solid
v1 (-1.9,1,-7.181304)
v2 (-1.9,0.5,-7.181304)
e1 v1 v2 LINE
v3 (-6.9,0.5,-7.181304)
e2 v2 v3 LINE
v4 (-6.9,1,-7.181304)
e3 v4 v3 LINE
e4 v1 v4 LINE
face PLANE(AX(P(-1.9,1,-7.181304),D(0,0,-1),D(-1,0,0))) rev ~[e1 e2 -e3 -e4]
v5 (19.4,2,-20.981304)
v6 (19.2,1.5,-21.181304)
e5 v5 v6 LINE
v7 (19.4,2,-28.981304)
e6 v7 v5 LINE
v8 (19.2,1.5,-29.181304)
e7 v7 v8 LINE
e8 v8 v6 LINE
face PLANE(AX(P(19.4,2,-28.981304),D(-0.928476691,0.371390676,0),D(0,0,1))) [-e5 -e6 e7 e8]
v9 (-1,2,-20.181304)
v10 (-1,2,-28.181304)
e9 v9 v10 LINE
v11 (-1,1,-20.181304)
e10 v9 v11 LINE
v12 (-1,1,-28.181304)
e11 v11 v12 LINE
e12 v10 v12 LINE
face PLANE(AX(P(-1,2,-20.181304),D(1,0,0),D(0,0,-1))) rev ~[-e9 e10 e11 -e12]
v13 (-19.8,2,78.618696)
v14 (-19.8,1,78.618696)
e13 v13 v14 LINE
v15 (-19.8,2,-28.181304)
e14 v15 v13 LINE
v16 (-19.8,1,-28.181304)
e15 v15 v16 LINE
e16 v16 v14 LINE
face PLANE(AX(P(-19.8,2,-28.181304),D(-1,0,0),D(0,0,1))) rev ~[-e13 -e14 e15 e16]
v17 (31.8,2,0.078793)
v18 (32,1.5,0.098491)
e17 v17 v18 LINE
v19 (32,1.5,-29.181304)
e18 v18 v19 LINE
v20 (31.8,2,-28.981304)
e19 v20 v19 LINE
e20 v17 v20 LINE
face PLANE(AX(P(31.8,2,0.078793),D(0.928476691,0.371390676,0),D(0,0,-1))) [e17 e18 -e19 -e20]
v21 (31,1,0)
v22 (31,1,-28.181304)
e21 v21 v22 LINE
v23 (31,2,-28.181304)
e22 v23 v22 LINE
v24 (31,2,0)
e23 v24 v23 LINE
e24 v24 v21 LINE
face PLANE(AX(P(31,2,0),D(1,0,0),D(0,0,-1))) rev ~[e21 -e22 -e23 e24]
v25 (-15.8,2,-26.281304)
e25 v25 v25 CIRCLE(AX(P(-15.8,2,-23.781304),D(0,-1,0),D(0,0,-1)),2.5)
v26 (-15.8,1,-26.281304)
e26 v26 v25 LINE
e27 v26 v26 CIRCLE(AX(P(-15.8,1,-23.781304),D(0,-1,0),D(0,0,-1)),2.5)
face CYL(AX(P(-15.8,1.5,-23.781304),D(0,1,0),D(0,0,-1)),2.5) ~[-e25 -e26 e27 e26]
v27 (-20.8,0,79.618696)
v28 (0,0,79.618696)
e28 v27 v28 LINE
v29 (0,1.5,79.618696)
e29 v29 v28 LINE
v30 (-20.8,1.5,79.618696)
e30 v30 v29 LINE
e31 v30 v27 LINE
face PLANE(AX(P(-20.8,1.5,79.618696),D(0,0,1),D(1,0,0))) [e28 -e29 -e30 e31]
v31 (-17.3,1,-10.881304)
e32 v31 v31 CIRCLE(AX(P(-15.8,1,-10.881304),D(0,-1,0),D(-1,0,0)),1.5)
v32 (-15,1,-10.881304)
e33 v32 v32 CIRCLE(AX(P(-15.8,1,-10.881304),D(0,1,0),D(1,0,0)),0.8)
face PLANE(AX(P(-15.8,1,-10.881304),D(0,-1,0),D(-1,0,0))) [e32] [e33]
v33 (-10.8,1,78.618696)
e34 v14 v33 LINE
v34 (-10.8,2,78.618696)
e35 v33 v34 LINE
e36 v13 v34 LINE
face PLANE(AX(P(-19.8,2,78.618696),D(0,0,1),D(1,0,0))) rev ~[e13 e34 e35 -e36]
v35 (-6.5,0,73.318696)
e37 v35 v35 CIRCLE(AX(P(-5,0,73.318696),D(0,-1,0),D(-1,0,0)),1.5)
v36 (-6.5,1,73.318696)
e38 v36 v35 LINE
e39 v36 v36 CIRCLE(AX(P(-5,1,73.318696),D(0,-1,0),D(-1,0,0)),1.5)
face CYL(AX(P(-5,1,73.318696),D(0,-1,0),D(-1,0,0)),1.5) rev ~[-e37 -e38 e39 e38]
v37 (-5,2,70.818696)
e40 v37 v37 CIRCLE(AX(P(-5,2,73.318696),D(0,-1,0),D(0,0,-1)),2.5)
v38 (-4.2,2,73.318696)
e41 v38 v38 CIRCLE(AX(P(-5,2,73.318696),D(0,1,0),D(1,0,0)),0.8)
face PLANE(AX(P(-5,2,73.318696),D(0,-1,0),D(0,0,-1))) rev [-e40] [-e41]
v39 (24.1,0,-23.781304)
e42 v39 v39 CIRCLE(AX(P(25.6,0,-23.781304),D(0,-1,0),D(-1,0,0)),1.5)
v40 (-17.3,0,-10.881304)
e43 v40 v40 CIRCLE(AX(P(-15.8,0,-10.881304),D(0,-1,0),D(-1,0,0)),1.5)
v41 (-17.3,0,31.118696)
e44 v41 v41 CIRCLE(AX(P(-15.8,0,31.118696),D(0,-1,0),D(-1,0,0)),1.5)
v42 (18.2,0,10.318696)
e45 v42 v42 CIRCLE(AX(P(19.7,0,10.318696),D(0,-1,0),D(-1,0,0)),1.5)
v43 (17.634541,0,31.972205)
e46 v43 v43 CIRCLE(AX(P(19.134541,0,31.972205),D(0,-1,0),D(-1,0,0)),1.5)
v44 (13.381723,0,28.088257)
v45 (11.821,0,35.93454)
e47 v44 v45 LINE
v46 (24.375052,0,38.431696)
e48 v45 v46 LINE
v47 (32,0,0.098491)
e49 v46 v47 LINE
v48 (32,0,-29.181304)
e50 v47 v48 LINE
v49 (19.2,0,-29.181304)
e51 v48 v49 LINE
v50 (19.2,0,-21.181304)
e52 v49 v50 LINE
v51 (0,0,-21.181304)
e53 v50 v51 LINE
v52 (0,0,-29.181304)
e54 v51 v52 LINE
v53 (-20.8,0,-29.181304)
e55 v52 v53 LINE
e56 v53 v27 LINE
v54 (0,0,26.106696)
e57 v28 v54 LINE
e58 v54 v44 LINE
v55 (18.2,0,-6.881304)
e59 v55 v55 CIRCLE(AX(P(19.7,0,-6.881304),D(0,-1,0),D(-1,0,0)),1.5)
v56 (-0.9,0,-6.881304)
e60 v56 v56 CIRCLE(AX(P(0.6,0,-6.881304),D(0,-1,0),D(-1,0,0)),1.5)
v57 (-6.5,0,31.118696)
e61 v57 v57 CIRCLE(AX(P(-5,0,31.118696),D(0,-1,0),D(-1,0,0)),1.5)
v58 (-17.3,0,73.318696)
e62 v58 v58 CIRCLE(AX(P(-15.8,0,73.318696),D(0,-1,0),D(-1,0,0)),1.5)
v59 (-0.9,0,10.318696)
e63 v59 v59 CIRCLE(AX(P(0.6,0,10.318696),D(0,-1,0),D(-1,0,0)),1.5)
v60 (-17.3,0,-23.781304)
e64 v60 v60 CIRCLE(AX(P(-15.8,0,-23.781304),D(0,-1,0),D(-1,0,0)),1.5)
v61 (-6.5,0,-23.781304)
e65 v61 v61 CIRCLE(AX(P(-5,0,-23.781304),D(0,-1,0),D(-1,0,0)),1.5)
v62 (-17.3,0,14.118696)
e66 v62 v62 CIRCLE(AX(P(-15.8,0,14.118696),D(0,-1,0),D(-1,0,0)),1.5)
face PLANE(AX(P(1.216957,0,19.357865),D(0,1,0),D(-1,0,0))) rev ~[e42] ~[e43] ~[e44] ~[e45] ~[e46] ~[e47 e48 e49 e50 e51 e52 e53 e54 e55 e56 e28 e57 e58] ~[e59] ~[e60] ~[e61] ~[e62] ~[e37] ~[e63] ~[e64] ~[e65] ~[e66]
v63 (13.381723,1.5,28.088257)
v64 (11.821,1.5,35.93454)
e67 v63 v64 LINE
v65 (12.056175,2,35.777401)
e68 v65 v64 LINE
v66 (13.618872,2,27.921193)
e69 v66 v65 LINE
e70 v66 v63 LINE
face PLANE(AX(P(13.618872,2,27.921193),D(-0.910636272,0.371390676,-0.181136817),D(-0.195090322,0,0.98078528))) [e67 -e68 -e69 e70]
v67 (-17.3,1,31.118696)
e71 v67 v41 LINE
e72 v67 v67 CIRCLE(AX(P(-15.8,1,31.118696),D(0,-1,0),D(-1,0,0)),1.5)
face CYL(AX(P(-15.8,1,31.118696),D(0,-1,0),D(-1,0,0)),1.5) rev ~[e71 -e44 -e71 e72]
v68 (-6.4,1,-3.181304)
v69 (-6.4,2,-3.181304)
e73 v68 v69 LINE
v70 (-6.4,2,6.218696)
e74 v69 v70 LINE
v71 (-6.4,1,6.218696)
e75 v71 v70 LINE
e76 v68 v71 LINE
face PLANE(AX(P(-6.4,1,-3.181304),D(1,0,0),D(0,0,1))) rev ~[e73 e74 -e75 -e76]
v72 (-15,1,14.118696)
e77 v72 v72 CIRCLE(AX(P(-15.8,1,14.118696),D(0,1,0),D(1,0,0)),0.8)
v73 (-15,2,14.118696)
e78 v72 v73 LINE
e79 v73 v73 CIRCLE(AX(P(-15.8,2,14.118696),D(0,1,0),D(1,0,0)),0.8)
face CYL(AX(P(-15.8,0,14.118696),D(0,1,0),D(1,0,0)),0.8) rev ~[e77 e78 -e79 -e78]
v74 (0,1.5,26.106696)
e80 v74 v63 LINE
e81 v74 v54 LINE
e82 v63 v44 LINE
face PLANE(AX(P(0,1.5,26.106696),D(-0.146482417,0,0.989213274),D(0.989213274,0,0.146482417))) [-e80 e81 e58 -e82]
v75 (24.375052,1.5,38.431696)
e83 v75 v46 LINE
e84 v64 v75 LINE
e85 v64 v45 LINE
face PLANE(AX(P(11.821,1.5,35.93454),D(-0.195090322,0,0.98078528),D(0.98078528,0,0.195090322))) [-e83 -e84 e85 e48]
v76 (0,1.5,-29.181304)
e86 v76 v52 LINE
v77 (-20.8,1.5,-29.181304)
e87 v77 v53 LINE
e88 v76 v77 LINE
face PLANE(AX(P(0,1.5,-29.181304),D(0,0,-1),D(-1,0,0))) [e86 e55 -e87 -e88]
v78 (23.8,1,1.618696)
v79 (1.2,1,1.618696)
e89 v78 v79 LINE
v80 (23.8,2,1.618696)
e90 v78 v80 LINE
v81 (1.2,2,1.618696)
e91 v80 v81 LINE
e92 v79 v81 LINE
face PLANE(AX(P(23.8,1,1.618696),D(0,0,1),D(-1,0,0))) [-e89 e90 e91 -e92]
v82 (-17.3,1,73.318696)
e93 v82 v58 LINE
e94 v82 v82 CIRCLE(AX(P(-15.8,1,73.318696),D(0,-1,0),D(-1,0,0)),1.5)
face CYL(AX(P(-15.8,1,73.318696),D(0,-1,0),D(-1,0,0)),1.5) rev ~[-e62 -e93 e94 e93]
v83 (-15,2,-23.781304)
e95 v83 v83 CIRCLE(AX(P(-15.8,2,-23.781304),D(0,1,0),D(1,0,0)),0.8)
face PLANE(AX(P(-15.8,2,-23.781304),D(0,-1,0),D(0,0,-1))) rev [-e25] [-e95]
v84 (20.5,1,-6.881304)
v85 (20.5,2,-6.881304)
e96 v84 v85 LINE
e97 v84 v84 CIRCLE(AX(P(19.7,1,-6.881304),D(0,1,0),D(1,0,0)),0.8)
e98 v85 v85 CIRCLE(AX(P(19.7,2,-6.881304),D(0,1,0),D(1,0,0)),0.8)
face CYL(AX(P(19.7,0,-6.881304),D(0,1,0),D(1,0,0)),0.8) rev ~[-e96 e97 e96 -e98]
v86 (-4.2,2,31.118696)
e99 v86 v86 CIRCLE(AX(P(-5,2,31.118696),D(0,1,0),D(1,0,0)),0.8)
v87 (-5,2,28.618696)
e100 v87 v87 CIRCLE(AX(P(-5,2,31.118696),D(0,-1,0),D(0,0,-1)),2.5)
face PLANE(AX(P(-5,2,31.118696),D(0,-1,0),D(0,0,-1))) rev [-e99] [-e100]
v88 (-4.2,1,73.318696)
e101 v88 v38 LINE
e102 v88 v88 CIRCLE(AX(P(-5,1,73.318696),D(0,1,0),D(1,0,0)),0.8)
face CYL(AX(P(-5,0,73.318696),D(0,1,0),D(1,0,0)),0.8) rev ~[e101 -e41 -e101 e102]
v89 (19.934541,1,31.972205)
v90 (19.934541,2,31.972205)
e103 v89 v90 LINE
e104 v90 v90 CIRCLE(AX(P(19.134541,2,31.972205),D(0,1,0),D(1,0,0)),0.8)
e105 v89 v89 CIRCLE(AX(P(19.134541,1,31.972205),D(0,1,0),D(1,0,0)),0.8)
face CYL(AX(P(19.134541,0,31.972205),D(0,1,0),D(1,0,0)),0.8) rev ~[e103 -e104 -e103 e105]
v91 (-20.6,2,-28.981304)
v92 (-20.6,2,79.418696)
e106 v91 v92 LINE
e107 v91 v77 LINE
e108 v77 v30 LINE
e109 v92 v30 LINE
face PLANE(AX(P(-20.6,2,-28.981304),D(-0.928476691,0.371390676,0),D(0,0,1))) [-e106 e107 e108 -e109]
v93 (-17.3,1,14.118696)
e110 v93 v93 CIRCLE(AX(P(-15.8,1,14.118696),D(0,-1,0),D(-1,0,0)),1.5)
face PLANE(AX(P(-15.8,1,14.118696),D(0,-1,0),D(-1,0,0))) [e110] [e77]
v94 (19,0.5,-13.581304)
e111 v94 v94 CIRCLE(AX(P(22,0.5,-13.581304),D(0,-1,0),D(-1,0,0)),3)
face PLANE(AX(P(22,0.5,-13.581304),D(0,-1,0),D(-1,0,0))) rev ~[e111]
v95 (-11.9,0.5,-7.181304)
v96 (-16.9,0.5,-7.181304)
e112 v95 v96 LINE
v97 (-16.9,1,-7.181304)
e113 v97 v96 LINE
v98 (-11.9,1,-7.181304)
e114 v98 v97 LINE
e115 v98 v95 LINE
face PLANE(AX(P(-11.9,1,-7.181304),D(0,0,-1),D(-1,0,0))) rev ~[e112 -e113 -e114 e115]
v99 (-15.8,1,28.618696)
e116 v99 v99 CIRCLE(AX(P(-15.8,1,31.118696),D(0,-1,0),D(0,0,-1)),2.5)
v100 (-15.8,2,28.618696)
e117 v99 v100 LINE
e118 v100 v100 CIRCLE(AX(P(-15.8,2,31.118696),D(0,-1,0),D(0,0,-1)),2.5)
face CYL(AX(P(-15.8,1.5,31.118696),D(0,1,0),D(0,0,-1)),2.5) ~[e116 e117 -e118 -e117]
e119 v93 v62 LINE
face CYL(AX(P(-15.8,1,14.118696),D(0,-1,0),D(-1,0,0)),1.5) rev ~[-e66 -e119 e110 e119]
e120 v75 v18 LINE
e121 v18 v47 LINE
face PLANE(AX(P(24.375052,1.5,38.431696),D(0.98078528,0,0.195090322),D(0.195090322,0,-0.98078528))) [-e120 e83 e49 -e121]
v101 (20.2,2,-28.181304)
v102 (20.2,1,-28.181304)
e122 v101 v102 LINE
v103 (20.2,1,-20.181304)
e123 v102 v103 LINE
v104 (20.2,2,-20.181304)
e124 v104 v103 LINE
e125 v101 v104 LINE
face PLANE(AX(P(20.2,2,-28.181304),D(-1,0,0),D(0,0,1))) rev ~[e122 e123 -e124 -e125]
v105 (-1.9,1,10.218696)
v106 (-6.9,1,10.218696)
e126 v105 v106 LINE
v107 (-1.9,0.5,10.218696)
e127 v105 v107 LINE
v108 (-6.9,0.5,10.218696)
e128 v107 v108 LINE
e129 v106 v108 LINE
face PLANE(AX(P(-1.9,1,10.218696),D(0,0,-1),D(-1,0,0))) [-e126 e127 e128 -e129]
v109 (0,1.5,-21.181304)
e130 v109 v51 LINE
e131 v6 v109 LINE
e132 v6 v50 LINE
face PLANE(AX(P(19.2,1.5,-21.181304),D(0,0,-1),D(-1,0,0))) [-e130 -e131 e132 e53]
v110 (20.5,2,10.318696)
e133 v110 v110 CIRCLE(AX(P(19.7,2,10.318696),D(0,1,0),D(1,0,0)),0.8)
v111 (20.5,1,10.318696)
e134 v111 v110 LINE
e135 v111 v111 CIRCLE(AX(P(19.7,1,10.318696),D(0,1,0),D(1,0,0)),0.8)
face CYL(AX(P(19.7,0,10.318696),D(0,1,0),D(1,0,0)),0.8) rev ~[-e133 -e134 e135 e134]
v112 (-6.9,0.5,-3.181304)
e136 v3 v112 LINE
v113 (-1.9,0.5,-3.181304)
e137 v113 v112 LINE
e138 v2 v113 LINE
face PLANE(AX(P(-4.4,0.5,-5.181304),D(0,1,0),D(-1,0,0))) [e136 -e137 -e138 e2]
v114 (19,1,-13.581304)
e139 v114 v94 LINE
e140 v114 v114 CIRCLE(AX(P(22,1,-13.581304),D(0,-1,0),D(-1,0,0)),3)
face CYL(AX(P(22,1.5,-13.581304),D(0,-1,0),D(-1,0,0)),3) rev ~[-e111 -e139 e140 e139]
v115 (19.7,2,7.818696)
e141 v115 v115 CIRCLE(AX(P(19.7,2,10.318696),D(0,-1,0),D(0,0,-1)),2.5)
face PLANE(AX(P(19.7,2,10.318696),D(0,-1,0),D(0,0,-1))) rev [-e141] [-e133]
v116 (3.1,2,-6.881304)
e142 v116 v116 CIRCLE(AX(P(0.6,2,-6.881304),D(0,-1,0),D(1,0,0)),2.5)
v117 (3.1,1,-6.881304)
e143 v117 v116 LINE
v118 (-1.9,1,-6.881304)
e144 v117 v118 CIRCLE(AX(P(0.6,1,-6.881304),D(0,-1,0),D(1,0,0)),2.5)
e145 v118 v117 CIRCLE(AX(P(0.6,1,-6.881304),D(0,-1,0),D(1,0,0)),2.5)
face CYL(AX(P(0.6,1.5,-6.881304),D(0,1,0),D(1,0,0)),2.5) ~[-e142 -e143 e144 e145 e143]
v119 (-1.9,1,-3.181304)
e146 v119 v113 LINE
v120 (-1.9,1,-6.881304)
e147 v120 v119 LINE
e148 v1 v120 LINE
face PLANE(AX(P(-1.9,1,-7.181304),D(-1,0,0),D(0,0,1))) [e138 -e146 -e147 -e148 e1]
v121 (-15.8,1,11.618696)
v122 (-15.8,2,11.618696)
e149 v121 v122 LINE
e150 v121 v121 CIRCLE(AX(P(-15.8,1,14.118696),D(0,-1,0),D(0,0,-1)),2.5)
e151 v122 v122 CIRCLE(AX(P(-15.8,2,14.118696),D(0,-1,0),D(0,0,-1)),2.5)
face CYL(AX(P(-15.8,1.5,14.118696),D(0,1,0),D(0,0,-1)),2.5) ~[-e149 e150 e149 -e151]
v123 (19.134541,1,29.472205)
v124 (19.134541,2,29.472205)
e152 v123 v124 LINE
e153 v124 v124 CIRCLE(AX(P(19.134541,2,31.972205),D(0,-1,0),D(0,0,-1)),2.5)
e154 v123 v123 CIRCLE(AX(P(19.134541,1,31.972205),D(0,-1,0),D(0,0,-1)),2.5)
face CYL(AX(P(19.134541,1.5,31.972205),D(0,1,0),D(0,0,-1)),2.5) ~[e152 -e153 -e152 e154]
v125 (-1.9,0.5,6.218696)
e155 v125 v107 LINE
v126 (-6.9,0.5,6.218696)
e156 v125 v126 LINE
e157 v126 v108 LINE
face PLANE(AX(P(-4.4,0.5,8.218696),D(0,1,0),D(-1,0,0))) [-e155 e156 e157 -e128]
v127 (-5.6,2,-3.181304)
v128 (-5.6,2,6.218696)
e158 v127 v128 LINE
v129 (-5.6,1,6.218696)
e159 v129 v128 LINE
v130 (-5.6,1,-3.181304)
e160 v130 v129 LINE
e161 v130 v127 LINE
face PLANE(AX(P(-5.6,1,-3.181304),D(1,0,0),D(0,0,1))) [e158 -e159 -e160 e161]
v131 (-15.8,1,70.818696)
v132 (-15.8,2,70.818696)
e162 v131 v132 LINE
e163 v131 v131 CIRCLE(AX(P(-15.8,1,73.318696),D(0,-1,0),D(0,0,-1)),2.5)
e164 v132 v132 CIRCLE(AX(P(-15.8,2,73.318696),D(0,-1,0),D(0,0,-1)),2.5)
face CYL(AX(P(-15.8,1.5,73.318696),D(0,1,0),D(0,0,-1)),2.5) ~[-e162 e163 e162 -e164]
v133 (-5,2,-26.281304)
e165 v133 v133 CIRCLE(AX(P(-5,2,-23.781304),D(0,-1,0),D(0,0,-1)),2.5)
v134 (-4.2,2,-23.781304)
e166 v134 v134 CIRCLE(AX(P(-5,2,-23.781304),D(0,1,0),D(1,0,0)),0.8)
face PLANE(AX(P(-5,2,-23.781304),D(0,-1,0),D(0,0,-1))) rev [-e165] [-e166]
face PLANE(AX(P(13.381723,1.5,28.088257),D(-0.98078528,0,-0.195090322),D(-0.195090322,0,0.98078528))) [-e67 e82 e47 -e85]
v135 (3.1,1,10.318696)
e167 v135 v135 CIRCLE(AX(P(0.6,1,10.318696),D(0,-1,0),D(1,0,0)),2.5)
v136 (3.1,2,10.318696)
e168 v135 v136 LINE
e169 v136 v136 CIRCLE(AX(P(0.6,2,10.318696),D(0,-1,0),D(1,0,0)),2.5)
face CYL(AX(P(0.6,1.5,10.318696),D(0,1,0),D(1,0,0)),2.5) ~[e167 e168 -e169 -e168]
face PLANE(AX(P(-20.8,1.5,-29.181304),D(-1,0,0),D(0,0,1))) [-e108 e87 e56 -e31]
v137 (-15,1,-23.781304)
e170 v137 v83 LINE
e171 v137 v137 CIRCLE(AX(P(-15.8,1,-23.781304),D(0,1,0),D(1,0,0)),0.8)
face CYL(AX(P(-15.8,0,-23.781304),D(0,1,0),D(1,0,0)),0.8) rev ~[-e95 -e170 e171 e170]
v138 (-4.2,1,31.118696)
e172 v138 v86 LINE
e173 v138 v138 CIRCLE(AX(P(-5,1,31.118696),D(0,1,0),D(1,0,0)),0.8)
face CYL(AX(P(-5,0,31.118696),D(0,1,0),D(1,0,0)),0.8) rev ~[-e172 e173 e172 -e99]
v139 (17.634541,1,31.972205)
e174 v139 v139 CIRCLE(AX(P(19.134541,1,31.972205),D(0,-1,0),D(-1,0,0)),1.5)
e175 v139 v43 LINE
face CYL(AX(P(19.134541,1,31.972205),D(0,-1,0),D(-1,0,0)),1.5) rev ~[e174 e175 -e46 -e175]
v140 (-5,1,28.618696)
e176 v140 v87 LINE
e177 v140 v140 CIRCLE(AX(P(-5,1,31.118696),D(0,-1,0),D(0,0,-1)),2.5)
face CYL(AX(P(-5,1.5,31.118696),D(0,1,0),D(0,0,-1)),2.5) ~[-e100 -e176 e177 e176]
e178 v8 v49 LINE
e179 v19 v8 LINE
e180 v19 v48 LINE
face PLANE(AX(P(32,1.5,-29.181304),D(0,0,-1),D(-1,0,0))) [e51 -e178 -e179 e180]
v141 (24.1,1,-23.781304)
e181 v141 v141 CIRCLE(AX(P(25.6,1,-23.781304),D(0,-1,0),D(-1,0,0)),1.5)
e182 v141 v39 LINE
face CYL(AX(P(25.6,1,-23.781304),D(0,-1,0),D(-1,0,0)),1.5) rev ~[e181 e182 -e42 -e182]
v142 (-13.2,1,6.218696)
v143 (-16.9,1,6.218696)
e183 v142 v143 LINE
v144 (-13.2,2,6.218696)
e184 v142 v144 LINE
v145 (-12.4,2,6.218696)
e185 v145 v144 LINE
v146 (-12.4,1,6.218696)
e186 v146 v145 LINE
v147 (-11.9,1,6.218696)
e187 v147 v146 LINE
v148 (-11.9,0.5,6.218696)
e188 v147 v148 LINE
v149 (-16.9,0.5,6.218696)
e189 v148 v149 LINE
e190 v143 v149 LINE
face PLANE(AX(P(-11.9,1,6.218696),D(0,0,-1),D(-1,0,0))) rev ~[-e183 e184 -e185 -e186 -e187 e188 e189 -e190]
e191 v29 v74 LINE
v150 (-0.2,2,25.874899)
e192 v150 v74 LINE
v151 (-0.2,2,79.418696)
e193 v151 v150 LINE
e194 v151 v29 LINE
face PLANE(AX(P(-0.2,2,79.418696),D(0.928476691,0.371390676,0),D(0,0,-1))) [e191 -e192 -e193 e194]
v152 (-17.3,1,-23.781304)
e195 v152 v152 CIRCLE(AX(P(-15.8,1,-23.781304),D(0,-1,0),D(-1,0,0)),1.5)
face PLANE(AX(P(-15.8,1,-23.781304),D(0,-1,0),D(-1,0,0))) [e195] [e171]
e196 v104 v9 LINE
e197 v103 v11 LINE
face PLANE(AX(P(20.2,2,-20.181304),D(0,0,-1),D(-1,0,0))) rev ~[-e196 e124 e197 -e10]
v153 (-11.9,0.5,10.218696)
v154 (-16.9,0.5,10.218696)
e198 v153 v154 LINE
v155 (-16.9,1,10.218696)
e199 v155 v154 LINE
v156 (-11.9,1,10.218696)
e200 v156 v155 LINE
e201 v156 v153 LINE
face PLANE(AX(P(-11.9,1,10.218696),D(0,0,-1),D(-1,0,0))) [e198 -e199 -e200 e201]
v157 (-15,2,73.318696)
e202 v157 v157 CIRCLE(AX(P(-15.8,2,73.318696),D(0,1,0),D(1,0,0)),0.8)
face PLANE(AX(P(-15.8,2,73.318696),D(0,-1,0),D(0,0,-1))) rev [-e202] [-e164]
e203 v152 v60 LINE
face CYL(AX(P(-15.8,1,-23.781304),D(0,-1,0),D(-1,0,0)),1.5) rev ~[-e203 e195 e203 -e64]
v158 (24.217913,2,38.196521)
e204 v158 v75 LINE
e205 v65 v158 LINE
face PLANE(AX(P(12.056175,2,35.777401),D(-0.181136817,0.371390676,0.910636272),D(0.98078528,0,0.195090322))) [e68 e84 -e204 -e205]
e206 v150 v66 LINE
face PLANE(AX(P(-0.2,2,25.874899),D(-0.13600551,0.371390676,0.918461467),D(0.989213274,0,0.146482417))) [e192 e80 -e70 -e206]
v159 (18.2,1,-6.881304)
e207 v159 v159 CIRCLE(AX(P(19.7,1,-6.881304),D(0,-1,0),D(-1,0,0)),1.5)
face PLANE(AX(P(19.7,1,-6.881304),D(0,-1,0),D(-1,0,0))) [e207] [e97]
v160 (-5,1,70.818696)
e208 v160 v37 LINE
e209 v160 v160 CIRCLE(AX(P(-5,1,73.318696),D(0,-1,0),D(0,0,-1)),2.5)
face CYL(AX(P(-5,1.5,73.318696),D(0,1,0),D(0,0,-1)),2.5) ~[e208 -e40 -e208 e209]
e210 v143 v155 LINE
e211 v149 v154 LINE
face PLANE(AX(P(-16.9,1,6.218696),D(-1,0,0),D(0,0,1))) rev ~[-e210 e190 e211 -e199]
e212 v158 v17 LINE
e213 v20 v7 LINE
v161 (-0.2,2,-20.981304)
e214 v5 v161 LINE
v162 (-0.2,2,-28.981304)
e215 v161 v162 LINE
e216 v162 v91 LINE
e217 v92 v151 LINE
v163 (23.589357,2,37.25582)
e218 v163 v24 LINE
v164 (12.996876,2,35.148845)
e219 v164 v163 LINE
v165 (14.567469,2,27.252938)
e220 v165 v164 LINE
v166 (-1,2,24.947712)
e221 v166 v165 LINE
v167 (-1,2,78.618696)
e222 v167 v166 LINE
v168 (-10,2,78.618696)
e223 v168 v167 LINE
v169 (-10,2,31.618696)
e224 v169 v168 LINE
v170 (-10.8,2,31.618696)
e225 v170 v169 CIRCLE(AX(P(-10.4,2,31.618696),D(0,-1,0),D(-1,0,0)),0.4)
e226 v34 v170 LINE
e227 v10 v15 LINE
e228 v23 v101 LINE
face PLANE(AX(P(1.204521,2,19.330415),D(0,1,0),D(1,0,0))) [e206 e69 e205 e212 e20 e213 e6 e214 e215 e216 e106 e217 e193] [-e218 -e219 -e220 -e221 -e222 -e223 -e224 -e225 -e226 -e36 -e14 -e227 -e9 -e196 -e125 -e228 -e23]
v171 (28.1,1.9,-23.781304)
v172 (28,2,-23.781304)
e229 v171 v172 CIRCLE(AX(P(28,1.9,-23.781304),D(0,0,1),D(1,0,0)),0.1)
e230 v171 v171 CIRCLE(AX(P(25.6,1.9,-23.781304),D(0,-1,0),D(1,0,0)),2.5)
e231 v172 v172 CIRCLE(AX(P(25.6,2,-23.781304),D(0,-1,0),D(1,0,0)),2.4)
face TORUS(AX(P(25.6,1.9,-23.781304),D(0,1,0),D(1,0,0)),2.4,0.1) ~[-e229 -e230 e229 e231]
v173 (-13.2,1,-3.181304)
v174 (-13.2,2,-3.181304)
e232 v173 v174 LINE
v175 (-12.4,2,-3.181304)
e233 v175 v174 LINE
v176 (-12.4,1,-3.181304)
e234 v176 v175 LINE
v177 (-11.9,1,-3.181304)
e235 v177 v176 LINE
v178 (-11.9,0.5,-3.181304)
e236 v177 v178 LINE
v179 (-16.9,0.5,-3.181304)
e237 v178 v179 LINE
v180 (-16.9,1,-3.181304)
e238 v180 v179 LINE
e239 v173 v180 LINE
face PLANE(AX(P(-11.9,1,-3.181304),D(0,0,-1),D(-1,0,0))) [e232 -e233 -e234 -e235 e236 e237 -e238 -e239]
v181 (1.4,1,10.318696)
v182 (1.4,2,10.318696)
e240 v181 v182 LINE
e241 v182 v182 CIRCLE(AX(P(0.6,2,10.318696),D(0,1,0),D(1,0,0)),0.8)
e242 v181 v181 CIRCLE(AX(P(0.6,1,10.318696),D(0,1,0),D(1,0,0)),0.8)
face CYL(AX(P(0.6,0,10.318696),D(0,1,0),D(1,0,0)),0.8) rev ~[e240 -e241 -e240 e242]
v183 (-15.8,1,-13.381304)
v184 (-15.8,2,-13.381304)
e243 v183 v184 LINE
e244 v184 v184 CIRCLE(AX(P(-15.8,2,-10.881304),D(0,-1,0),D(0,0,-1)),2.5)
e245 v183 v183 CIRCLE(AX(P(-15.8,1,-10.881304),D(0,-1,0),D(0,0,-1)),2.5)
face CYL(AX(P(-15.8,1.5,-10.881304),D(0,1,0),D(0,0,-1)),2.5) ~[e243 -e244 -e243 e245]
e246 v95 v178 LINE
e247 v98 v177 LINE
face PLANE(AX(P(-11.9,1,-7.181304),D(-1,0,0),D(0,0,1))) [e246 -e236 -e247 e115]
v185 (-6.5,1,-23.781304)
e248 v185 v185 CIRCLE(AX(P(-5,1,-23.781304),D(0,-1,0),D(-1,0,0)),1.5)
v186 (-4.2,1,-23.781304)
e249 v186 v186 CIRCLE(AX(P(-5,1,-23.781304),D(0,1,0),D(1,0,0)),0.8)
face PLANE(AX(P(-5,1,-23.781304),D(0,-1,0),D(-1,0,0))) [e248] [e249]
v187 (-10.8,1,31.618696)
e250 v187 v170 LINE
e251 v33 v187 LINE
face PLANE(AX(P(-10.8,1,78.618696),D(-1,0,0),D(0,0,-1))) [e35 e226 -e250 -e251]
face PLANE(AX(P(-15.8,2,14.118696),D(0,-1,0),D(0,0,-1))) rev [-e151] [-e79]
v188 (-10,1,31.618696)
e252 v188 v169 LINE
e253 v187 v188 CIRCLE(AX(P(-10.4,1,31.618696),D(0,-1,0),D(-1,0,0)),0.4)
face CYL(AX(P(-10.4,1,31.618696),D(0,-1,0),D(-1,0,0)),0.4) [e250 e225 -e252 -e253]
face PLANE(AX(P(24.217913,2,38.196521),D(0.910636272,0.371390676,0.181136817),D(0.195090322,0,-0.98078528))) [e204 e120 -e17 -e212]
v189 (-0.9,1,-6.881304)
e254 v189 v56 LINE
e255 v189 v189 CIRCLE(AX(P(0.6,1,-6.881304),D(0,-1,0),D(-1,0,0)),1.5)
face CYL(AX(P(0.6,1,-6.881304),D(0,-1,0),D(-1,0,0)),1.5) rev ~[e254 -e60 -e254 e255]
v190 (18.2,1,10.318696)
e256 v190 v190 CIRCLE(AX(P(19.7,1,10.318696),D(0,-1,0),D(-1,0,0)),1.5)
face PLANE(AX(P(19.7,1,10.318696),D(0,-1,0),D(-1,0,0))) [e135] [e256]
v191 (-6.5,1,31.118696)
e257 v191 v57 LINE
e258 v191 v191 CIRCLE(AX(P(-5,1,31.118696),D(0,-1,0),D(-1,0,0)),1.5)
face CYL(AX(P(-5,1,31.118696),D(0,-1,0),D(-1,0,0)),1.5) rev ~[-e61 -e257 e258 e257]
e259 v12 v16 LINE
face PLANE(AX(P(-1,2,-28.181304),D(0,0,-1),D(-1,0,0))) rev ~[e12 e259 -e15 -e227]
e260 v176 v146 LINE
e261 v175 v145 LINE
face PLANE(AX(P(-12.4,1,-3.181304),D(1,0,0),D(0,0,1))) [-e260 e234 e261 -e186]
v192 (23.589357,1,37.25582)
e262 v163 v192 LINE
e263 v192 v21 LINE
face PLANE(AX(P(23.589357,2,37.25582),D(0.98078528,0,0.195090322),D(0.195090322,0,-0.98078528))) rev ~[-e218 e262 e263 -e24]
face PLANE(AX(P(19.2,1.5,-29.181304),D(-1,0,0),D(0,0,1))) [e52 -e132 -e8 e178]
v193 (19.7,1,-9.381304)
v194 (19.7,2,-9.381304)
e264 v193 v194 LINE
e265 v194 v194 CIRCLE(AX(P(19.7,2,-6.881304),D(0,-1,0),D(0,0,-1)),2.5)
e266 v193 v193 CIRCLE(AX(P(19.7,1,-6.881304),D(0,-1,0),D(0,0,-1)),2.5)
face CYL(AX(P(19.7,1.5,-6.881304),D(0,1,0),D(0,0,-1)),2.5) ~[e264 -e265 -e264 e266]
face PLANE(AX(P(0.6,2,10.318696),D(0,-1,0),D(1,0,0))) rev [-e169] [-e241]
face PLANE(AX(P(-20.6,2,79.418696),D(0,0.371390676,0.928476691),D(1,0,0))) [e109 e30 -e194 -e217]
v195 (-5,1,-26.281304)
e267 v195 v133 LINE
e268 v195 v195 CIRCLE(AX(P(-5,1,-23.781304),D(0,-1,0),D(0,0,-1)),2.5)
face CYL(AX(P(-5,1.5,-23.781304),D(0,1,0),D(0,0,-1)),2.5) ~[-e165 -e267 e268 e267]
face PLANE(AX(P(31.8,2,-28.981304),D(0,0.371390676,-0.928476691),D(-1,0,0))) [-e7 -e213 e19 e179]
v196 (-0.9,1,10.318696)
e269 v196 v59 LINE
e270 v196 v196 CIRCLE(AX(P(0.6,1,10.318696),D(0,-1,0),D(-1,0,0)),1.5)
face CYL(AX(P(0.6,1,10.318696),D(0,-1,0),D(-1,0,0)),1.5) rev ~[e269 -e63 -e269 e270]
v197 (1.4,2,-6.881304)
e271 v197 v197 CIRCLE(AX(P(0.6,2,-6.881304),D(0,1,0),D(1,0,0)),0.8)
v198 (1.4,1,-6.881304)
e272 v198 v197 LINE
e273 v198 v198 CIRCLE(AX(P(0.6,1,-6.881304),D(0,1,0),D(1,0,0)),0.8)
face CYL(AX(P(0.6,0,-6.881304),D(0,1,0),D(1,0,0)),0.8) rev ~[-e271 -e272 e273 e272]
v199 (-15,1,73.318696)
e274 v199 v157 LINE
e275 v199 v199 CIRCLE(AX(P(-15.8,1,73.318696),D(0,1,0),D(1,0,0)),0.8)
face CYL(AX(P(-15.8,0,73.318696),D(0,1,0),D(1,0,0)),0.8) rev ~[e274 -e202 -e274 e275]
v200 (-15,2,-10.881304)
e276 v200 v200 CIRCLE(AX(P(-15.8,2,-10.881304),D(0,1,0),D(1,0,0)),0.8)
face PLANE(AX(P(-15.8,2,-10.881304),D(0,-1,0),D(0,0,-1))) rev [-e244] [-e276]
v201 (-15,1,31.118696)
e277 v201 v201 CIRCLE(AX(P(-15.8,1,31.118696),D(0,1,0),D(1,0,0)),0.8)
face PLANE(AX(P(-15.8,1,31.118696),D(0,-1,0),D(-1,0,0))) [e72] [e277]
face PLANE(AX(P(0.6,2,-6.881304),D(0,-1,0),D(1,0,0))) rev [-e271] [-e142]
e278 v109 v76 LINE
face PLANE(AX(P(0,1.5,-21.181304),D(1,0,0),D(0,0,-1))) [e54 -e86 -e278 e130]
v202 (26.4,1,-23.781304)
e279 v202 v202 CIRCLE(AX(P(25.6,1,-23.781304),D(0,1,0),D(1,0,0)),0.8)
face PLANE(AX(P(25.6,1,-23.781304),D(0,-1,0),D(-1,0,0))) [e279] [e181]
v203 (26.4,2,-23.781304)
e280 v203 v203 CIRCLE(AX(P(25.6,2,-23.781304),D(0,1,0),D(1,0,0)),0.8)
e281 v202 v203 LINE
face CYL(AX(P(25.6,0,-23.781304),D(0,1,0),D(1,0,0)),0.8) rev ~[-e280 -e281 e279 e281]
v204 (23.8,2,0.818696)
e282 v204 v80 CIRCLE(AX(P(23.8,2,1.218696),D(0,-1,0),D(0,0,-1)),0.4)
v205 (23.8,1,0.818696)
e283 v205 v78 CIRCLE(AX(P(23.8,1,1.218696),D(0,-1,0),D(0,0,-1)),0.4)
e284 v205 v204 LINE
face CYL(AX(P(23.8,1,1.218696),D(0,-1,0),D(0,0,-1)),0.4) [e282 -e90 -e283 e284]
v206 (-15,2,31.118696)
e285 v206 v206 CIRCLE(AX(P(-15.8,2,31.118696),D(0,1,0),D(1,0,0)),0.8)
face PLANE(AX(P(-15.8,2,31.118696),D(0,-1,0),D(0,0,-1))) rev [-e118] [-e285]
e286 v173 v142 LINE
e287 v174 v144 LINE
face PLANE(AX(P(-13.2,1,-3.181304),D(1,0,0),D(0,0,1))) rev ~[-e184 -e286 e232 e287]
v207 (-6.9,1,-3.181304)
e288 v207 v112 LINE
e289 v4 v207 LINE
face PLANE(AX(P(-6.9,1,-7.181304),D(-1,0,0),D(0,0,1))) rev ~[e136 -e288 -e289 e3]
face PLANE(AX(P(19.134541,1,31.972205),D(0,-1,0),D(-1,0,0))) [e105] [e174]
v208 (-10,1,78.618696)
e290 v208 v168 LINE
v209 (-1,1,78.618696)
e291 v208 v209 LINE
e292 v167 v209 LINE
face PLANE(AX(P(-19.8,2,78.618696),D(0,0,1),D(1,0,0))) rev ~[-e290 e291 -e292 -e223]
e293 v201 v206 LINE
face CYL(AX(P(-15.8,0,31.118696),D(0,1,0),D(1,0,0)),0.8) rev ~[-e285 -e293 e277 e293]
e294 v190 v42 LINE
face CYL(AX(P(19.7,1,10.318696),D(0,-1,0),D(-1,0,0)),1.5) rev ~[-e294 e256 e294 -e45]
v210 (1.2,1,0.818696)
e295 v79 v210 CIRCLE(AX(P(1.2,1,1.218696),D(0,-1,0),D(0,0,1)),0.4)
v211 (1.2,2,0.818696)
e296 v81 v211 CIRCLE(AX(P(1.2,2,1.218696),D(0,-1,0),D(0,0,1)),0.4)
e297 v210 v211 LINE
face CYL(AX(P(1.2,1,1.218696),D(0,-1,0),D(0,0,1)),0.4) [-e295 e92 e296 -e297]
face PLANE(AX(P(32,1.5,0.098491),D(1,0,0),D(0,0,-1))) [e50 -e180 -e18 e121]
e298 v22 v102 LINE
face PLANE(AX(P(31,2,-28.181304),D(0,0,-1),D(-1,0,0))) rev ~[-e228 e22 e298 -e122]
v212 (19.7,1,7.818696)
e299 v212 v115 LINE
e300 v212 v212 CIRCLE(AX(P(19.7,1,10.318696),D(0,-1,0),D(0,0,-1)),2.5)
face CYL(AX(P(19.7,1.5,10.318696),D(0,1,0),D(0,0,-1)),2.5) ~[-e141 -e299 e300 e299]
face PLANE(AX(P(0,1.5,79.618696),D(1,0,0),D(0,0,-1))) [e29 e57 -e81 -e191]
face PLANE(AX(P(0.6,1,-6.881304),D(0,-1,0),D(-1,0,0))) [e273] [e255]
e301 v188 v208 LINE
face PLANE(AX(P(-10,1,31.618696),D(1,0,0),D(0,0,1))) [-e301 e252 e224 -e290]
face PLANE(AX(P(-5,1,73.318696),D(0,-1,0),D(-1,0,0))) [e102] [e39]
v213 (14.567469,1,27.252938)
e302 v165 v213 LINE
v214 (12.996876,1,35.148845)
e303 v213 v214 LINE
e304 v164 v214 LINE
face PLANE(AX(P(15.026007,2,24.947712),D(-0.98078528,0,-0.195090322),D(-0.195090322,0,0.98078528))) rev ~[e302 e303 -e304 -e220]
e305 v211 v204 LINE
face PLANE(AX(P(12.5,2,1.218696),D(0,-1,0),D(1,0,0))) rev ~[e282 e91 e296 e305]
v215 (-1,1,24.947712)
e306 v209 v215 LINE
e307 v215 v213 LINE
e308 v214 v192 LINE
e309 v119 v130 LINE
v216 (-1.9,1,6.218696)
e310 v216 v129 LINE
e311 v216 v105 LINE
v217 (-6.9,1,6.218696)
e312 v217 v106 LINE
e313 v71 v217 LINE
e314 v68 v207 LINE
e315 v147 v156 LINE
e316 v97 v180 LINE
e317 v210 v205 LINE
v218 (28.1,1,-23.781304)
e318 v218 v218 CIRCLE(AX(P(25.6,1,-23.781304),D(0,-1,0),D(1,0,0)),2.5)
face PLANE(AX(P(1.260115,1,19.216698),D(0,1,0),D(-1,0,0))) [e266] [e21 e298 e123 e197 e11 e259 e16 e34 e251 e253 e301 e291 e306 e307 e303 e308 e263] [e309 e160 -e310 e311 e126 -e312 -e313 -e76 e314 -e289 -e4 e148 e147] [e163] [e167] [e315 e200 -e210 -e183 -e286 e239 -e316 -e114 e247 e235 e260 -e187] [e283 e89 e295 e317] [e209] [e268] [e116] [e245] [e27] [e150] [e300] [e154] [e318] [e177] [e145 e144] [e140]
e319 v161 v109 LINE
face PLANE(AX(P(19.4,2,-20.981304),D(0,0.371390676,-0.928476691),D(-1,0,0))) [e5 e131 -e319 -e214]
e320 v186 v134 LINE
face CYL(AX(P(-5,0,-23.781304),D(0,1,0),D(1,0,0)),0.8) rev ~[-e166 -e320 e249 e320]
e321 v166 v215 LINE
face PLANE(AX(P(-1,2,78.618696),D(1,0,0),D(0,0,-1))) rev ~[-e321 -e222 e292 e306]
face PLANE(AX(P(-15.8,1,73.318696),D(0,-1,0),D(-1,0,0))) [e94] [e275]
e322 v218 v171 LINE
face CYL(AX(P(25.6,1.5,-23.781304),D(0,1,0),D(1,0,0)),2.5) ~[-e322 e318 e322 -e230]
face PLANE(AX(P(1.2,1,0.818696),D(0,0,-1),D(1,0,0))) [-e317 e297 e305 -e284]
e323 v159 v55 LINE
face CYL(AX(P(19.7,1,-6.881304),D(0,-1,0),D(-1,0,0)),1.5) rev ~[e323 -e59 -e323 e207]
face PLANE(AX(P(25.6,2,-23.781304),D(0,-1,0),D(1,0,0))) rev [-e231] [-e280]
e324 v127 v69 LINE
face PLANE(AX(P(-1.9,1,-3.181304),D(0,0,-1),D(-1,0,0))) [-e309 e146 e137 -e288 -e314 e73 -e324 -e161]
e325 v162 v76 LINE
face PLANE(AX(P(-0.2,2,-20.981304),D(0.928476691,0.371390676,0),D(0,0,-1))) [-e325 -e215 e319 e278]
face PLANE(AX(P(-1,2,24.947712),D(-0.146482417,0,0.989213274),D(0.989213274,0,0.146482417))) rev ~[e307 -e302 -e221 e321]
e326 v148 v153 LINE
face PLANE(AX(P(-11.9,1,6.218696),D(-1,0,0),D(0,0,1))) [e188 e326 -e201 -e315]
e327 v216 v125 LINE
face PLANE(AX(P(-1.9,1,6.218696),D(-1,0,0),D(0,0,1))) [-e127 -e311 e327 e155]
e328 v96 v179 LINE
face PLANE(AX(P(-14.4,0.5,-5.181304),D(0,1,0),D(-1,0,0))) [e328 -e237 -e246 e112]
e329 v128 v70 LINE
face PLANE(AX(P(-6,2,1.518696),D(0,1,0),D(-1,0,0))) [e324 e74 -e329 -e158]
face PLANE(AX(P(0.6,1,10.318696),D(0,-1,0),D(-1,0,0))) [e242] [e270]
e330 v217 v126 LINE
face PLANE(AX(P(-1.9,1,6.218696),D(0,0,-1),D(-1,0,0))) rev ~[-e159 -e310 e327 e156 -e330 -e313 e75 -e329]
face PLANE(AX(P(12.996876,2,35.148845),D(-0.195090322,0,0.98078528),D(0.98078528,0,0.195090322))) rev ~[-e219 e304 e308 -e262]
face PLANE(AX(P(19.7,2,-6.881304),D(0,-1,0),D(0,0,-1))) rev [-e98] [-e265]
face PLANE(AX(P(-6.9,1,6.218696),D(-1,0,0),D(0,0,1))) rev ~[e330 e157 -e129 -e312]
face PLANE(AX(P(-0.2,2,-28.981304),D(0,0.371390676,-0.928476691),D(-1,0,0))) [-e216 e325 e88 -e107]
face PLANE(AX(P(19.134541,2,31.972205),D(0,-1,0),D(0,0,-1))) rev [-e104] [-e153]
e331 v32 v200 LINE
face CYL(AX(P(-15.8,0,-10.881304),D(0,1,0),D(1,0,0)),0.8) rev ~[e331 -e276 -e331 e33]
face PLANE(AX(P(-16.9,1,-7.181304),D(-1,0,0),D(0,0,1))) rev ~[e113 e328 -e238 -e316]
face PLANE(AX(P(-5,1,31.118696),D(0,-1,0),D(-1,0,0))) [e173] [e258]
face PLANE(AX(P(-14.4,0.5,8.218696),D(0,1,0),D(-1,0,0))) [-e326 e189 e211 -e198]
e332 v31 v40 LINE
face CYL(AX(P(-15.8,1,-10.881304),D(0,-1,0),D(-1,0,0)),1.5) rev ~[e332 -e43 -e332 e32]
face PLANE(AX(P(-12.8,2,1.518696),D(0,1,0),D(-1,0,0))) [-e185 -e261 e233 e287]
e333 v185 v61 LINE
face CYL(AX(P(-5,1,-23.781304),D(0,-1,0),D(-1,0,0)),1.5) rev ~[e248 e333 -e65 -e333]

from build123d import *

# Parameters (mm, degrees)
BOSS_EXTRUDE1_DEPTH             = 0.5
BOSS_EXTRUDE1_DRAFT             = 21.801409486
BOSS_EXTRUDE2_DEPTH             = 1.5
CUT_EXTRUDE1_DEPTH              = 1
SKETCH4_W                       = 5
SKETCH4_H                       = 4
CUT_EXTRUDE2_DEPTH              = 0.5
SKETCH5_W                       = 0.8
SKETCH5_H                       = 9.4
BOSS_EXTRUDE3_DEPTH             = 1
SKETCH6_W                       = 5
SKETCH6_H                       = 4
CUT_EXTRUDE3_DEPTH              = 0.5
SKETCH7_W                       = 5
SKETCH7_H                       = 4
CUT_EXTRUDE4_DEPTH              = 0.5
SKETCH8_W                       = 0.8
SKETCH8_H                       = 9.4
BOSS_EXTRUDE4_DEPTH             = 1
SKETCH9_W                       = 5
SKETCH9_H                       = 4
CUT_EXTRUDE5_DEPTH              = 0.5
BOSS_EXTRUDE5_DEPTH             = 1
BOSS_EXTRUDE6_DEPTH             = 1
DRAFT1_ANGLE                    = -8.423132134
SKETCH12_W                      = 2.5
SKETCH12_H                      = 1
SKETCH13_W                      = 2.5
SKETCH13_H                      = 1
SKETCH14_W                      = 2.5
SKETCH14_H                      = 1
SKETCH15_W                      = 2.5
SKETCH15_H                      = 1
SKETCH16_W                      = 2.5
SKETCH16_H                      = 1
SKETCH17_W                      = 2.5
SKETCH17_H                      = 1
SKETCH18_W                      = 2.5
SKETCH18_H                      = 1
SKETCH19_W                      = 2.5
SKETCH19_H                      = 1
SKETCH20_W                      = 2.5
SKETCH20_H                      = 1
SKETCH21_W                      = 2.5
SKETCH21_H                      = 1
SKETCH22_W                      = 2.5
SKETCH22_H                      = 1
SKETCH23_W                      = 2.5
SKETCH23_H                      = 1
SKETCH24_W                      = 2.5
SKETCH24_H                      = 1
SKETCH25_W                      = 2.5
SKETCH25_H                      = 1
M3X0_5_TAPPED_HOLE1_D           = 1.6
M3X0_5_TAPPED_HOLE1_CBORE_D     = 3
M3X0_5_TAPPED_HOLE1_CBORE_DEPTH = 1
F_6_0_6_DIAMETER_HOLE1_D        = 6
F_6_0_6_DIAMETER_HOLE1_DEPTH    = 0.5
FILLET2_R                       = 0.1


with BuildPart() as part:
    # Sketch1 → Boss-Extrude1 (with draft: the straight prism first)
    with BuildSketch(Plane(origin=(0, 2, 0), x_dir=(1, 0, 0), z_dir=(0, 1, 0))):
        Polygon((24.217912597, -38.196520554), (31.8, -0.078793123), (31.8, 28.981304325), (19.4, 28.981304325), (19.4, 20.981304325), (-0.2, 20.981304325), (-0.2, 28.981304325), (-20.6, 28.981304325), (-20.6, -79.418695675), (-0.2, -79.418695675), (-0.2, -25.874898862), (13.618871878, -27.92119344), (12.05617512, -35.777400561), align=None)
    extrude(amount=-BOSS_EXTRUDE1_DEPTH)
    # Boss-Extrude1: the draft: its side faces are tilted about the plane it starts from
    boss_extrude1_sides = [part.faces().sort_by_distance(p)[0] for p in [
        (28.008956299, 1.75, 19.137656838),
        (31.8, 1.75, -14.451255601),
        (25.6, 1.75, -28.981304325),
        (19.4, 1.75, -24.981304325),
        (9.6, 1.75, -20.981304325),
        (-0.2, 1.75, -24.981304325),
        (-10.4, 1.75, -28.981304325),
        (-20.6, 1.75, 25.218695675),
        (-10.4, 1.75, 79.418695675),
        (-0.2, 1.75, 52.646797268),
        (6.709435939, 1.75, 26.898046151),
        (12.837523499, 1.75, 31.849297001),
        (18.137043859, 1.75, 36.986960558),
    ]]
    draft(boss_extrude1_sides, Plane(origin=(0, 2, 0), x_dir=(1, 0, 0), z_dir=(0, 1, 0)), BOSS_EXTRUDE1_DRAFT)

    # Sketch2 → Boss-Extrude2 (add)
    with BuildSketch(Plane.XZ.offset(-1.5)):
        Polygon((32, -29.181304325), (19.2, -29.181304325), (19.2, -21.181304325), (0, -21.181304325), (0, -29.181304325), (-20.8, -29.181304325), (-20.8, 79.618695675), (0, 79.618695675), (0, 26.106695675), (13.381722576, 28.08825731), (11.821, 35.934539553), (24.375051589, 38.431695675), (32, 0.098491403), align=None)
    extrude(amount=BOSS_EXTRUDE2_DEPTH)

    # Sketch3 → Cut-Extrude1 (cut)
    with BuildSketch(Plane(origin=(0, 2, 0), x_dir=(-1, 0, 0), z_dir=(0, 1, 0))):
        Polygon((19.8, -28.181304325), (19.8, 78.618695675), (1, 78.618695675), (1, 24.947711614), (-15.026007114, 24.947711614), (-12.996875602, 35.148844594), (-23.589356631, 37.255820072), (-31, 0), (-31, -28.181304325), (-20.2, -28.181304325), (-20.2, -20.181304325), (1, -20.181304325), (1, -28.181304325), align=None)
    extrude(amount=-CUT_EXTRUDE1_DEPTH, mode=Mode.SUBTRACT)

    # Sketch4 → Cut-Extrude2 (cut)
    with BuildSketch(Plane(origin=(0, 1, 0), x_dir=(-1, 0, 0), z_dir=(0, 1, 0))):
        with Locations((4.4, 8.218695675)):
            Rectangle(SKETCH4_W, SKETCH4_H)
    extrude(amount=-CUT_EXTRUDE2_DEPTH, mode=Mode.SUBTRACT)

    # Sketch5 → Boss-Extrude3 (add)
    with BuildSketch(Plane(origin=(0, 1, 0), x_dir=(-1, 0, 0), z_dir=(0, 1, 0))):
        with Locations((6, 1.518695675)):
            Rectangle(SKETCH5_W, SKETCH5_H)
    extrude(amount=BOSS_EXTRUDE3_DEPTH)

    # Sketch6 → Cut-Extrude3 (cut)
    with BuildSketch(Plane(origin=(0, 1, 0), x_dir=(-1, 0, 0), z_dir=(0, 1, 0))):
        with Locations((4.4, -5.181304325)):
            Rectangle(SKETCH6_W, SKETCH6_H)
    extrude(amount=-CUT_EXTRUDE3_DEPTH, mode=Mode.SUBTRACT)

    # Sketch7 → Cut-Extrude4 (cut)
    with BuildSketch(Plane(origin=(0, 1, 0), x_dir=(-1, 0, 0), z_dir=(0, 1, 0))):
        with Locations((14.4, 8.218695675)):
            Rectangle(SKETCH7_W, SKETCH7_H)
    extrude(amount=-CUT_EXTRUDE4_DEPTH, mode=Mode.SUBTRACT)

    # Sketch8 → Boss-Extrude4 (add)
    with BuildSketch(Plane(origin=(0, 1, 0), x_dir=(-1, 0, 0), z_dir=(0, 1, 0))):
        with Locations((12.8, 1.518695675)):
            Rectangle(SKETCH8_W, SKETCH8_H)
    extrude(amount=BOSS_EXTRUDE4_DEPTH)

    # Sketch9 → Cut-Extrude5 (cut)
    with BuildSketch(Plane(origin=(0, 1, 0), x_dir=(-1, 0, 0), z_dir=(0, 1, 0))):
        with Locations((14.4, -5.181304325)):
            Rectangle(SKETCH9_W, SKETCH9_H)
    extrude(amount=-CUT_EXTRUDE5_DEPTH, mode=Mode.SUBTRACT)

    # Sketch10 → Boss-Extrude5 (add)
    with BuildSketch(Plane(origin=(0, 1, 0), x_dir=(-1, 0, 0), z_dir=(0, 1, 0))):
        with BuildLine():
            Line((10.8, 78.618695675), (10.8, 31.618695675))
            ThreePointArc((10.8, 31.618695675), (10.4, 31.218695675), (10, 31.618695675))
            Line((10, 31.618695675), (10, 78.618695675))
            Line((10, 78.618695675), (10.8, 78.618695675))
        make_face()
    extrude(amount=BOSS_EXTRUDE5_DEPTH)

    # Sketch11 → Boss-Extrude6 (add)
    with BuildSketch(Plane(origin=(0, 1, 0), x_dir=(-1, 0, 0), z_dir=(0, 1, 0))):
        with BuildLine():
            Line((-1.2, 0.818695675), (-23.8, 0.818695675))
            ThreePointArc((-23.8, 0.818695675), (-24.2, 1.218695675), (-23.8, 1.618695675))
            Line((-23.8, 1.618695675), (-1.2, 1.618695675))
            ThreePointArc((-1.2, 1.618695675), (-0.8, 1.218695675), (-1.2, 0.818695675))
        make_face()
    extrude(amount=BOSS_EXTRUDE6_DEPTH)

    # Draft1
    draft1_faces = [part.faces().sort_by_distance(p)[0] for p in [
        (7.013003557, 1.5, 24.947711614),
    ]]
    draft(draft1_faces, Plane(origin=(-1, 1, 78.618695675), x_dir=(0, 0, -1), z_dir=(-1, 0, 0)), DRAFT1_ANGLE)

    # Sketch12 → Revolve1 (revolve)
    with BuildSketch(Plane.XY.offset(-6.881304325)):
        with Locations((1.85, 1.5)):
            Rectangle(SKETCH12_W, SKETCH12_H)
    revolve(axis=Axis((0.6, 2, -6.881304325), (0, -1, 0)))

    # Sketch13 → Revolve2 (revolve)
    with BuildSketch(Plane.XY.offset(73.318695675), mode=Mode.PRIVATE) as revolve2_sk:
        with Locations((-14.55, 1.5)):
            Rectangle(SKETCH13_W, SKETCH13_H)
    revolve(revolve2_sk.sketch.rotate(Axis((-15.8, 2, 73.318695675), (0, -1, 0)), 270), axis=Axis((-15.8, 2, 73.318695675), (0, -1, 0)))

    # Sketch14 → Revolve3 (revolve)
    with BuildSketch(Plane.XY.offset(73.318695675), mode=Mode.PRIVATE) as revolve3_sk:
        with Locations((-3.75, 1.5)):
            Rectangle(SKETCH14_W, SKETCH14_H)
    revolve(revolve3_sk.sketch.rotate(Axis((-5, 2, 73.318695675), (0, -1, 0)), 270), axis=Axis((-5, 2, 73.318695675), (0, -1, 0)))

    # Sketch15 → Revolve4 (revolve)
    with BuildSketch(Plane.XY.offset(31.118695675), mode=Mode.PRIVATE) as revolve4_sk:
        with Locations((-14.55, 1.5)):
            Rectangle(SKETCH15_W, SKETCH15_H)
    revolve(revolve4_sk.sketch.rotate(Axis((-15.8, 2, 31.118695675), (0, -1, 0)), 270), axis=Axis((-15.8, 2, 31.118695675), (0, -1, 0)))

    # Sketch16 → Revolve5 (revolve)
    with BuildSketch(Plane.XY.offset(31.118695675), mode=Mode.PRIVATE) as revolve5_sk:
        with Locations((-3.75, 1.5)):
            Rectangle(SKETCH16_W, SKETCH16_H)
    revolve(revolve5_sk.sketch.rotate(Axis((-5, 2, 31.118695675), (0, -1, 0)), 270), axis=Axis((-5, 2, 31.118695675), (0, -1, 0)))

    # Sketch17 → Revolve6 (revolve)
    with BuildSketch(Plane.XY.offset(14.118695675), mode=Mode.PRIVATE) as revolve6_sk:
        with Locations((-14.55, 1.5)):
            Rectangle(SKETCH17_W, SKETCH17_H)
    revolve(revolve6_sk.sketch.rotate(Axis((-15.8, 2, 14.118695675), (0, -1, 0)), 270), axis=Axis((-15.8, 2, 14.118695675), (0, -1, 0)))

    # Sketch18 → Revolve7 (revolve)
    with BuildSketch(Plane.XY.offset(-10.881304325), mode=Mode.PRIVATE) as revolve7_sk:
        with Locations((-14.55, 1.5)):
            Rectangle(SKETCH18_W, SKETCH18_H)
    revolve(revolve7_sk.sketch.rotate(Axis((-15.8, 2, -10.881304325), (0, -1, 0)), 270), axis=Axis((-15.8, 2, -10.881304325), (0, -1, 0)))

    # Sketch19 → Revolve8 (revolve)
    with BuildSketch(Plane.XY.offset(-23.781304325), mode=Mode.PRIVATE) as revolve8_sk:
        with Locations((-14.55, 1.5)):
            Rectangle(SKETCH19_W, SKETCH19_H)
    revolve(revolve8_sk.sketch.rotate(Axis((-15.8, 2, -23.781304325), (0, -1, 0)), 270), axis=Axis((-15.8, 2, -23.781304325), (0, -1, 0)))

    # Sketch20 → Revolve9 (revolve)
    with BuildSketch(Plane.XY.offset(-23.781304325), mode=Mode.PRIVATE) as revolve9_sk:
        with Locations((-3.75, 1.5)):
            Rectangle(SKETCH20_W, SKETCH20_H)
    revolve(revolve9_sk.sketch.rotate(Axis((-5, 2, -23.781304325), (0, -1, 0)), 270), axis=Axis((-5, 2, -23.781304325), (0, -1, 0)))

    # Sketch21 → Revolve10 (revolve)
    with BuildSketch(Plane.XY.offset(-23.781304325)):
        with Locations((26.85, 1.5)):
            Rectangle(SKETCH21_W, SKETCH21_H)
    revolve(axis=Axis((25.6, 2, -23.781304325), (0, -1, 0)))

    # Sketch22 → Revolve11 (revolve)
    with BuildSketch(Plane.XY.offset(-6.881304325), mode=Mode.PRIVATE) as revolve11_sk:
        with Locations((20.95, 1.5)):
            Rectangle(SKETCH22_W, SKETCH22_H)
    revolve(revolve11_sk.sketch.rotate(Axis((19.7, 2, -6.881304325), (0, -1, 0)), 270), axis=Axis((19.7, 2, -6.881304325), (0, -1, 0)))

    # Sketch23 → Revolve12 (revolve)
    with BuildSketch(Plane.XY.offset(10.318695675), mode=Mode.PRIVATE) as revolve12_sk:
        with Locations((20.95, 1.5)):
            Rectangle(SKETCH23_W, SKETCH23_H)
    revolve(revolve12_sk.sketch.rotate(Axis((19.7, 2, 10.318695675), (0, -1, 0)), 270), axis=Axis((19.7, 2, 10.318695675), (0, -1, 0)))

    # Sketch24 → Revolve13 (revolve)
    with BuildSketch(Plane.XY.offset(31.972205419), mode=Mode.PRIVATE) as revolve13_sk:
        with Locations((20.384540675, 1.5)):
            Rectangle(SKETCH24_W, SKETCH24_H)
    revolve(revolve13_sk.sketch.rotate(Axis((19.134540675, 2, 31.972205419), (0, -1, 0)), 270), axis=Axis((19.134540675, 2, 31.972205419), (0, -1, 0)))

    # Sketch25 → Revolve14 (revolve)
    with BuildSketch(Plane.XY.offset(10.318695675)):
        with Locations((1.85, 1.5)):
            Rectangle(SKETCH25_W, SKETCH25_H)
    revolve(axis=Axis((0.6, 2, 10.318695675), (0, -1, 0)))

    # M3x0.5 Tapped Hole1 (through all)
    with Locations(Plane(origin=(0, 0, 0), x_dir=(-1, 0, 0), z_dir=(0, -1, 0))):
        with Locations((15.8, 10.881304325), (5, 23.781304325), (-19.7, 6.881304325), (-19.134540675, -31.972205419), (15.8, -14.118695675), (15.8, -31.118695675), (15.8, -73.318695675), (5, -73.318695675), (5, -31.118695675), (-0.6, -10.318695675), (-19.7, -10.318695675), (-25.6, 23.781304325), (15.8, 23.781304325), (-0.6, 6.881304325)):
            CounterBoreHole(M3X0_5_TAPPED_HOLE1_D / 2, M3X0_5_TAPPED_HOLE1_CBORE_D / 2, M3X0_5_TAPPED_HOLE1_CBORE_DEPTH)

    # Ø6.0 (6) Diameter Hole1
    with Locations(Plane(origin=(0, 1, 0), x_dir=(1, 0, 0), z_dir=(0, 1, 0))):
        with Locations((22, 13.581304325)):
            Hole(F_6_0_6_DIAMETER_HOLE1_D / 2, depth=F_6_0_6_DIAMETER_HOLE1_DEPTH)

    # Fillet2
    fillet2_edges = [part.edges().sort_by_distance(p)[0] for p in [
        (23.1, 2, -23.781304325),
    ]]
    fillet(fillet2_edges, radius=FILLET2_R)


solid = part.part
